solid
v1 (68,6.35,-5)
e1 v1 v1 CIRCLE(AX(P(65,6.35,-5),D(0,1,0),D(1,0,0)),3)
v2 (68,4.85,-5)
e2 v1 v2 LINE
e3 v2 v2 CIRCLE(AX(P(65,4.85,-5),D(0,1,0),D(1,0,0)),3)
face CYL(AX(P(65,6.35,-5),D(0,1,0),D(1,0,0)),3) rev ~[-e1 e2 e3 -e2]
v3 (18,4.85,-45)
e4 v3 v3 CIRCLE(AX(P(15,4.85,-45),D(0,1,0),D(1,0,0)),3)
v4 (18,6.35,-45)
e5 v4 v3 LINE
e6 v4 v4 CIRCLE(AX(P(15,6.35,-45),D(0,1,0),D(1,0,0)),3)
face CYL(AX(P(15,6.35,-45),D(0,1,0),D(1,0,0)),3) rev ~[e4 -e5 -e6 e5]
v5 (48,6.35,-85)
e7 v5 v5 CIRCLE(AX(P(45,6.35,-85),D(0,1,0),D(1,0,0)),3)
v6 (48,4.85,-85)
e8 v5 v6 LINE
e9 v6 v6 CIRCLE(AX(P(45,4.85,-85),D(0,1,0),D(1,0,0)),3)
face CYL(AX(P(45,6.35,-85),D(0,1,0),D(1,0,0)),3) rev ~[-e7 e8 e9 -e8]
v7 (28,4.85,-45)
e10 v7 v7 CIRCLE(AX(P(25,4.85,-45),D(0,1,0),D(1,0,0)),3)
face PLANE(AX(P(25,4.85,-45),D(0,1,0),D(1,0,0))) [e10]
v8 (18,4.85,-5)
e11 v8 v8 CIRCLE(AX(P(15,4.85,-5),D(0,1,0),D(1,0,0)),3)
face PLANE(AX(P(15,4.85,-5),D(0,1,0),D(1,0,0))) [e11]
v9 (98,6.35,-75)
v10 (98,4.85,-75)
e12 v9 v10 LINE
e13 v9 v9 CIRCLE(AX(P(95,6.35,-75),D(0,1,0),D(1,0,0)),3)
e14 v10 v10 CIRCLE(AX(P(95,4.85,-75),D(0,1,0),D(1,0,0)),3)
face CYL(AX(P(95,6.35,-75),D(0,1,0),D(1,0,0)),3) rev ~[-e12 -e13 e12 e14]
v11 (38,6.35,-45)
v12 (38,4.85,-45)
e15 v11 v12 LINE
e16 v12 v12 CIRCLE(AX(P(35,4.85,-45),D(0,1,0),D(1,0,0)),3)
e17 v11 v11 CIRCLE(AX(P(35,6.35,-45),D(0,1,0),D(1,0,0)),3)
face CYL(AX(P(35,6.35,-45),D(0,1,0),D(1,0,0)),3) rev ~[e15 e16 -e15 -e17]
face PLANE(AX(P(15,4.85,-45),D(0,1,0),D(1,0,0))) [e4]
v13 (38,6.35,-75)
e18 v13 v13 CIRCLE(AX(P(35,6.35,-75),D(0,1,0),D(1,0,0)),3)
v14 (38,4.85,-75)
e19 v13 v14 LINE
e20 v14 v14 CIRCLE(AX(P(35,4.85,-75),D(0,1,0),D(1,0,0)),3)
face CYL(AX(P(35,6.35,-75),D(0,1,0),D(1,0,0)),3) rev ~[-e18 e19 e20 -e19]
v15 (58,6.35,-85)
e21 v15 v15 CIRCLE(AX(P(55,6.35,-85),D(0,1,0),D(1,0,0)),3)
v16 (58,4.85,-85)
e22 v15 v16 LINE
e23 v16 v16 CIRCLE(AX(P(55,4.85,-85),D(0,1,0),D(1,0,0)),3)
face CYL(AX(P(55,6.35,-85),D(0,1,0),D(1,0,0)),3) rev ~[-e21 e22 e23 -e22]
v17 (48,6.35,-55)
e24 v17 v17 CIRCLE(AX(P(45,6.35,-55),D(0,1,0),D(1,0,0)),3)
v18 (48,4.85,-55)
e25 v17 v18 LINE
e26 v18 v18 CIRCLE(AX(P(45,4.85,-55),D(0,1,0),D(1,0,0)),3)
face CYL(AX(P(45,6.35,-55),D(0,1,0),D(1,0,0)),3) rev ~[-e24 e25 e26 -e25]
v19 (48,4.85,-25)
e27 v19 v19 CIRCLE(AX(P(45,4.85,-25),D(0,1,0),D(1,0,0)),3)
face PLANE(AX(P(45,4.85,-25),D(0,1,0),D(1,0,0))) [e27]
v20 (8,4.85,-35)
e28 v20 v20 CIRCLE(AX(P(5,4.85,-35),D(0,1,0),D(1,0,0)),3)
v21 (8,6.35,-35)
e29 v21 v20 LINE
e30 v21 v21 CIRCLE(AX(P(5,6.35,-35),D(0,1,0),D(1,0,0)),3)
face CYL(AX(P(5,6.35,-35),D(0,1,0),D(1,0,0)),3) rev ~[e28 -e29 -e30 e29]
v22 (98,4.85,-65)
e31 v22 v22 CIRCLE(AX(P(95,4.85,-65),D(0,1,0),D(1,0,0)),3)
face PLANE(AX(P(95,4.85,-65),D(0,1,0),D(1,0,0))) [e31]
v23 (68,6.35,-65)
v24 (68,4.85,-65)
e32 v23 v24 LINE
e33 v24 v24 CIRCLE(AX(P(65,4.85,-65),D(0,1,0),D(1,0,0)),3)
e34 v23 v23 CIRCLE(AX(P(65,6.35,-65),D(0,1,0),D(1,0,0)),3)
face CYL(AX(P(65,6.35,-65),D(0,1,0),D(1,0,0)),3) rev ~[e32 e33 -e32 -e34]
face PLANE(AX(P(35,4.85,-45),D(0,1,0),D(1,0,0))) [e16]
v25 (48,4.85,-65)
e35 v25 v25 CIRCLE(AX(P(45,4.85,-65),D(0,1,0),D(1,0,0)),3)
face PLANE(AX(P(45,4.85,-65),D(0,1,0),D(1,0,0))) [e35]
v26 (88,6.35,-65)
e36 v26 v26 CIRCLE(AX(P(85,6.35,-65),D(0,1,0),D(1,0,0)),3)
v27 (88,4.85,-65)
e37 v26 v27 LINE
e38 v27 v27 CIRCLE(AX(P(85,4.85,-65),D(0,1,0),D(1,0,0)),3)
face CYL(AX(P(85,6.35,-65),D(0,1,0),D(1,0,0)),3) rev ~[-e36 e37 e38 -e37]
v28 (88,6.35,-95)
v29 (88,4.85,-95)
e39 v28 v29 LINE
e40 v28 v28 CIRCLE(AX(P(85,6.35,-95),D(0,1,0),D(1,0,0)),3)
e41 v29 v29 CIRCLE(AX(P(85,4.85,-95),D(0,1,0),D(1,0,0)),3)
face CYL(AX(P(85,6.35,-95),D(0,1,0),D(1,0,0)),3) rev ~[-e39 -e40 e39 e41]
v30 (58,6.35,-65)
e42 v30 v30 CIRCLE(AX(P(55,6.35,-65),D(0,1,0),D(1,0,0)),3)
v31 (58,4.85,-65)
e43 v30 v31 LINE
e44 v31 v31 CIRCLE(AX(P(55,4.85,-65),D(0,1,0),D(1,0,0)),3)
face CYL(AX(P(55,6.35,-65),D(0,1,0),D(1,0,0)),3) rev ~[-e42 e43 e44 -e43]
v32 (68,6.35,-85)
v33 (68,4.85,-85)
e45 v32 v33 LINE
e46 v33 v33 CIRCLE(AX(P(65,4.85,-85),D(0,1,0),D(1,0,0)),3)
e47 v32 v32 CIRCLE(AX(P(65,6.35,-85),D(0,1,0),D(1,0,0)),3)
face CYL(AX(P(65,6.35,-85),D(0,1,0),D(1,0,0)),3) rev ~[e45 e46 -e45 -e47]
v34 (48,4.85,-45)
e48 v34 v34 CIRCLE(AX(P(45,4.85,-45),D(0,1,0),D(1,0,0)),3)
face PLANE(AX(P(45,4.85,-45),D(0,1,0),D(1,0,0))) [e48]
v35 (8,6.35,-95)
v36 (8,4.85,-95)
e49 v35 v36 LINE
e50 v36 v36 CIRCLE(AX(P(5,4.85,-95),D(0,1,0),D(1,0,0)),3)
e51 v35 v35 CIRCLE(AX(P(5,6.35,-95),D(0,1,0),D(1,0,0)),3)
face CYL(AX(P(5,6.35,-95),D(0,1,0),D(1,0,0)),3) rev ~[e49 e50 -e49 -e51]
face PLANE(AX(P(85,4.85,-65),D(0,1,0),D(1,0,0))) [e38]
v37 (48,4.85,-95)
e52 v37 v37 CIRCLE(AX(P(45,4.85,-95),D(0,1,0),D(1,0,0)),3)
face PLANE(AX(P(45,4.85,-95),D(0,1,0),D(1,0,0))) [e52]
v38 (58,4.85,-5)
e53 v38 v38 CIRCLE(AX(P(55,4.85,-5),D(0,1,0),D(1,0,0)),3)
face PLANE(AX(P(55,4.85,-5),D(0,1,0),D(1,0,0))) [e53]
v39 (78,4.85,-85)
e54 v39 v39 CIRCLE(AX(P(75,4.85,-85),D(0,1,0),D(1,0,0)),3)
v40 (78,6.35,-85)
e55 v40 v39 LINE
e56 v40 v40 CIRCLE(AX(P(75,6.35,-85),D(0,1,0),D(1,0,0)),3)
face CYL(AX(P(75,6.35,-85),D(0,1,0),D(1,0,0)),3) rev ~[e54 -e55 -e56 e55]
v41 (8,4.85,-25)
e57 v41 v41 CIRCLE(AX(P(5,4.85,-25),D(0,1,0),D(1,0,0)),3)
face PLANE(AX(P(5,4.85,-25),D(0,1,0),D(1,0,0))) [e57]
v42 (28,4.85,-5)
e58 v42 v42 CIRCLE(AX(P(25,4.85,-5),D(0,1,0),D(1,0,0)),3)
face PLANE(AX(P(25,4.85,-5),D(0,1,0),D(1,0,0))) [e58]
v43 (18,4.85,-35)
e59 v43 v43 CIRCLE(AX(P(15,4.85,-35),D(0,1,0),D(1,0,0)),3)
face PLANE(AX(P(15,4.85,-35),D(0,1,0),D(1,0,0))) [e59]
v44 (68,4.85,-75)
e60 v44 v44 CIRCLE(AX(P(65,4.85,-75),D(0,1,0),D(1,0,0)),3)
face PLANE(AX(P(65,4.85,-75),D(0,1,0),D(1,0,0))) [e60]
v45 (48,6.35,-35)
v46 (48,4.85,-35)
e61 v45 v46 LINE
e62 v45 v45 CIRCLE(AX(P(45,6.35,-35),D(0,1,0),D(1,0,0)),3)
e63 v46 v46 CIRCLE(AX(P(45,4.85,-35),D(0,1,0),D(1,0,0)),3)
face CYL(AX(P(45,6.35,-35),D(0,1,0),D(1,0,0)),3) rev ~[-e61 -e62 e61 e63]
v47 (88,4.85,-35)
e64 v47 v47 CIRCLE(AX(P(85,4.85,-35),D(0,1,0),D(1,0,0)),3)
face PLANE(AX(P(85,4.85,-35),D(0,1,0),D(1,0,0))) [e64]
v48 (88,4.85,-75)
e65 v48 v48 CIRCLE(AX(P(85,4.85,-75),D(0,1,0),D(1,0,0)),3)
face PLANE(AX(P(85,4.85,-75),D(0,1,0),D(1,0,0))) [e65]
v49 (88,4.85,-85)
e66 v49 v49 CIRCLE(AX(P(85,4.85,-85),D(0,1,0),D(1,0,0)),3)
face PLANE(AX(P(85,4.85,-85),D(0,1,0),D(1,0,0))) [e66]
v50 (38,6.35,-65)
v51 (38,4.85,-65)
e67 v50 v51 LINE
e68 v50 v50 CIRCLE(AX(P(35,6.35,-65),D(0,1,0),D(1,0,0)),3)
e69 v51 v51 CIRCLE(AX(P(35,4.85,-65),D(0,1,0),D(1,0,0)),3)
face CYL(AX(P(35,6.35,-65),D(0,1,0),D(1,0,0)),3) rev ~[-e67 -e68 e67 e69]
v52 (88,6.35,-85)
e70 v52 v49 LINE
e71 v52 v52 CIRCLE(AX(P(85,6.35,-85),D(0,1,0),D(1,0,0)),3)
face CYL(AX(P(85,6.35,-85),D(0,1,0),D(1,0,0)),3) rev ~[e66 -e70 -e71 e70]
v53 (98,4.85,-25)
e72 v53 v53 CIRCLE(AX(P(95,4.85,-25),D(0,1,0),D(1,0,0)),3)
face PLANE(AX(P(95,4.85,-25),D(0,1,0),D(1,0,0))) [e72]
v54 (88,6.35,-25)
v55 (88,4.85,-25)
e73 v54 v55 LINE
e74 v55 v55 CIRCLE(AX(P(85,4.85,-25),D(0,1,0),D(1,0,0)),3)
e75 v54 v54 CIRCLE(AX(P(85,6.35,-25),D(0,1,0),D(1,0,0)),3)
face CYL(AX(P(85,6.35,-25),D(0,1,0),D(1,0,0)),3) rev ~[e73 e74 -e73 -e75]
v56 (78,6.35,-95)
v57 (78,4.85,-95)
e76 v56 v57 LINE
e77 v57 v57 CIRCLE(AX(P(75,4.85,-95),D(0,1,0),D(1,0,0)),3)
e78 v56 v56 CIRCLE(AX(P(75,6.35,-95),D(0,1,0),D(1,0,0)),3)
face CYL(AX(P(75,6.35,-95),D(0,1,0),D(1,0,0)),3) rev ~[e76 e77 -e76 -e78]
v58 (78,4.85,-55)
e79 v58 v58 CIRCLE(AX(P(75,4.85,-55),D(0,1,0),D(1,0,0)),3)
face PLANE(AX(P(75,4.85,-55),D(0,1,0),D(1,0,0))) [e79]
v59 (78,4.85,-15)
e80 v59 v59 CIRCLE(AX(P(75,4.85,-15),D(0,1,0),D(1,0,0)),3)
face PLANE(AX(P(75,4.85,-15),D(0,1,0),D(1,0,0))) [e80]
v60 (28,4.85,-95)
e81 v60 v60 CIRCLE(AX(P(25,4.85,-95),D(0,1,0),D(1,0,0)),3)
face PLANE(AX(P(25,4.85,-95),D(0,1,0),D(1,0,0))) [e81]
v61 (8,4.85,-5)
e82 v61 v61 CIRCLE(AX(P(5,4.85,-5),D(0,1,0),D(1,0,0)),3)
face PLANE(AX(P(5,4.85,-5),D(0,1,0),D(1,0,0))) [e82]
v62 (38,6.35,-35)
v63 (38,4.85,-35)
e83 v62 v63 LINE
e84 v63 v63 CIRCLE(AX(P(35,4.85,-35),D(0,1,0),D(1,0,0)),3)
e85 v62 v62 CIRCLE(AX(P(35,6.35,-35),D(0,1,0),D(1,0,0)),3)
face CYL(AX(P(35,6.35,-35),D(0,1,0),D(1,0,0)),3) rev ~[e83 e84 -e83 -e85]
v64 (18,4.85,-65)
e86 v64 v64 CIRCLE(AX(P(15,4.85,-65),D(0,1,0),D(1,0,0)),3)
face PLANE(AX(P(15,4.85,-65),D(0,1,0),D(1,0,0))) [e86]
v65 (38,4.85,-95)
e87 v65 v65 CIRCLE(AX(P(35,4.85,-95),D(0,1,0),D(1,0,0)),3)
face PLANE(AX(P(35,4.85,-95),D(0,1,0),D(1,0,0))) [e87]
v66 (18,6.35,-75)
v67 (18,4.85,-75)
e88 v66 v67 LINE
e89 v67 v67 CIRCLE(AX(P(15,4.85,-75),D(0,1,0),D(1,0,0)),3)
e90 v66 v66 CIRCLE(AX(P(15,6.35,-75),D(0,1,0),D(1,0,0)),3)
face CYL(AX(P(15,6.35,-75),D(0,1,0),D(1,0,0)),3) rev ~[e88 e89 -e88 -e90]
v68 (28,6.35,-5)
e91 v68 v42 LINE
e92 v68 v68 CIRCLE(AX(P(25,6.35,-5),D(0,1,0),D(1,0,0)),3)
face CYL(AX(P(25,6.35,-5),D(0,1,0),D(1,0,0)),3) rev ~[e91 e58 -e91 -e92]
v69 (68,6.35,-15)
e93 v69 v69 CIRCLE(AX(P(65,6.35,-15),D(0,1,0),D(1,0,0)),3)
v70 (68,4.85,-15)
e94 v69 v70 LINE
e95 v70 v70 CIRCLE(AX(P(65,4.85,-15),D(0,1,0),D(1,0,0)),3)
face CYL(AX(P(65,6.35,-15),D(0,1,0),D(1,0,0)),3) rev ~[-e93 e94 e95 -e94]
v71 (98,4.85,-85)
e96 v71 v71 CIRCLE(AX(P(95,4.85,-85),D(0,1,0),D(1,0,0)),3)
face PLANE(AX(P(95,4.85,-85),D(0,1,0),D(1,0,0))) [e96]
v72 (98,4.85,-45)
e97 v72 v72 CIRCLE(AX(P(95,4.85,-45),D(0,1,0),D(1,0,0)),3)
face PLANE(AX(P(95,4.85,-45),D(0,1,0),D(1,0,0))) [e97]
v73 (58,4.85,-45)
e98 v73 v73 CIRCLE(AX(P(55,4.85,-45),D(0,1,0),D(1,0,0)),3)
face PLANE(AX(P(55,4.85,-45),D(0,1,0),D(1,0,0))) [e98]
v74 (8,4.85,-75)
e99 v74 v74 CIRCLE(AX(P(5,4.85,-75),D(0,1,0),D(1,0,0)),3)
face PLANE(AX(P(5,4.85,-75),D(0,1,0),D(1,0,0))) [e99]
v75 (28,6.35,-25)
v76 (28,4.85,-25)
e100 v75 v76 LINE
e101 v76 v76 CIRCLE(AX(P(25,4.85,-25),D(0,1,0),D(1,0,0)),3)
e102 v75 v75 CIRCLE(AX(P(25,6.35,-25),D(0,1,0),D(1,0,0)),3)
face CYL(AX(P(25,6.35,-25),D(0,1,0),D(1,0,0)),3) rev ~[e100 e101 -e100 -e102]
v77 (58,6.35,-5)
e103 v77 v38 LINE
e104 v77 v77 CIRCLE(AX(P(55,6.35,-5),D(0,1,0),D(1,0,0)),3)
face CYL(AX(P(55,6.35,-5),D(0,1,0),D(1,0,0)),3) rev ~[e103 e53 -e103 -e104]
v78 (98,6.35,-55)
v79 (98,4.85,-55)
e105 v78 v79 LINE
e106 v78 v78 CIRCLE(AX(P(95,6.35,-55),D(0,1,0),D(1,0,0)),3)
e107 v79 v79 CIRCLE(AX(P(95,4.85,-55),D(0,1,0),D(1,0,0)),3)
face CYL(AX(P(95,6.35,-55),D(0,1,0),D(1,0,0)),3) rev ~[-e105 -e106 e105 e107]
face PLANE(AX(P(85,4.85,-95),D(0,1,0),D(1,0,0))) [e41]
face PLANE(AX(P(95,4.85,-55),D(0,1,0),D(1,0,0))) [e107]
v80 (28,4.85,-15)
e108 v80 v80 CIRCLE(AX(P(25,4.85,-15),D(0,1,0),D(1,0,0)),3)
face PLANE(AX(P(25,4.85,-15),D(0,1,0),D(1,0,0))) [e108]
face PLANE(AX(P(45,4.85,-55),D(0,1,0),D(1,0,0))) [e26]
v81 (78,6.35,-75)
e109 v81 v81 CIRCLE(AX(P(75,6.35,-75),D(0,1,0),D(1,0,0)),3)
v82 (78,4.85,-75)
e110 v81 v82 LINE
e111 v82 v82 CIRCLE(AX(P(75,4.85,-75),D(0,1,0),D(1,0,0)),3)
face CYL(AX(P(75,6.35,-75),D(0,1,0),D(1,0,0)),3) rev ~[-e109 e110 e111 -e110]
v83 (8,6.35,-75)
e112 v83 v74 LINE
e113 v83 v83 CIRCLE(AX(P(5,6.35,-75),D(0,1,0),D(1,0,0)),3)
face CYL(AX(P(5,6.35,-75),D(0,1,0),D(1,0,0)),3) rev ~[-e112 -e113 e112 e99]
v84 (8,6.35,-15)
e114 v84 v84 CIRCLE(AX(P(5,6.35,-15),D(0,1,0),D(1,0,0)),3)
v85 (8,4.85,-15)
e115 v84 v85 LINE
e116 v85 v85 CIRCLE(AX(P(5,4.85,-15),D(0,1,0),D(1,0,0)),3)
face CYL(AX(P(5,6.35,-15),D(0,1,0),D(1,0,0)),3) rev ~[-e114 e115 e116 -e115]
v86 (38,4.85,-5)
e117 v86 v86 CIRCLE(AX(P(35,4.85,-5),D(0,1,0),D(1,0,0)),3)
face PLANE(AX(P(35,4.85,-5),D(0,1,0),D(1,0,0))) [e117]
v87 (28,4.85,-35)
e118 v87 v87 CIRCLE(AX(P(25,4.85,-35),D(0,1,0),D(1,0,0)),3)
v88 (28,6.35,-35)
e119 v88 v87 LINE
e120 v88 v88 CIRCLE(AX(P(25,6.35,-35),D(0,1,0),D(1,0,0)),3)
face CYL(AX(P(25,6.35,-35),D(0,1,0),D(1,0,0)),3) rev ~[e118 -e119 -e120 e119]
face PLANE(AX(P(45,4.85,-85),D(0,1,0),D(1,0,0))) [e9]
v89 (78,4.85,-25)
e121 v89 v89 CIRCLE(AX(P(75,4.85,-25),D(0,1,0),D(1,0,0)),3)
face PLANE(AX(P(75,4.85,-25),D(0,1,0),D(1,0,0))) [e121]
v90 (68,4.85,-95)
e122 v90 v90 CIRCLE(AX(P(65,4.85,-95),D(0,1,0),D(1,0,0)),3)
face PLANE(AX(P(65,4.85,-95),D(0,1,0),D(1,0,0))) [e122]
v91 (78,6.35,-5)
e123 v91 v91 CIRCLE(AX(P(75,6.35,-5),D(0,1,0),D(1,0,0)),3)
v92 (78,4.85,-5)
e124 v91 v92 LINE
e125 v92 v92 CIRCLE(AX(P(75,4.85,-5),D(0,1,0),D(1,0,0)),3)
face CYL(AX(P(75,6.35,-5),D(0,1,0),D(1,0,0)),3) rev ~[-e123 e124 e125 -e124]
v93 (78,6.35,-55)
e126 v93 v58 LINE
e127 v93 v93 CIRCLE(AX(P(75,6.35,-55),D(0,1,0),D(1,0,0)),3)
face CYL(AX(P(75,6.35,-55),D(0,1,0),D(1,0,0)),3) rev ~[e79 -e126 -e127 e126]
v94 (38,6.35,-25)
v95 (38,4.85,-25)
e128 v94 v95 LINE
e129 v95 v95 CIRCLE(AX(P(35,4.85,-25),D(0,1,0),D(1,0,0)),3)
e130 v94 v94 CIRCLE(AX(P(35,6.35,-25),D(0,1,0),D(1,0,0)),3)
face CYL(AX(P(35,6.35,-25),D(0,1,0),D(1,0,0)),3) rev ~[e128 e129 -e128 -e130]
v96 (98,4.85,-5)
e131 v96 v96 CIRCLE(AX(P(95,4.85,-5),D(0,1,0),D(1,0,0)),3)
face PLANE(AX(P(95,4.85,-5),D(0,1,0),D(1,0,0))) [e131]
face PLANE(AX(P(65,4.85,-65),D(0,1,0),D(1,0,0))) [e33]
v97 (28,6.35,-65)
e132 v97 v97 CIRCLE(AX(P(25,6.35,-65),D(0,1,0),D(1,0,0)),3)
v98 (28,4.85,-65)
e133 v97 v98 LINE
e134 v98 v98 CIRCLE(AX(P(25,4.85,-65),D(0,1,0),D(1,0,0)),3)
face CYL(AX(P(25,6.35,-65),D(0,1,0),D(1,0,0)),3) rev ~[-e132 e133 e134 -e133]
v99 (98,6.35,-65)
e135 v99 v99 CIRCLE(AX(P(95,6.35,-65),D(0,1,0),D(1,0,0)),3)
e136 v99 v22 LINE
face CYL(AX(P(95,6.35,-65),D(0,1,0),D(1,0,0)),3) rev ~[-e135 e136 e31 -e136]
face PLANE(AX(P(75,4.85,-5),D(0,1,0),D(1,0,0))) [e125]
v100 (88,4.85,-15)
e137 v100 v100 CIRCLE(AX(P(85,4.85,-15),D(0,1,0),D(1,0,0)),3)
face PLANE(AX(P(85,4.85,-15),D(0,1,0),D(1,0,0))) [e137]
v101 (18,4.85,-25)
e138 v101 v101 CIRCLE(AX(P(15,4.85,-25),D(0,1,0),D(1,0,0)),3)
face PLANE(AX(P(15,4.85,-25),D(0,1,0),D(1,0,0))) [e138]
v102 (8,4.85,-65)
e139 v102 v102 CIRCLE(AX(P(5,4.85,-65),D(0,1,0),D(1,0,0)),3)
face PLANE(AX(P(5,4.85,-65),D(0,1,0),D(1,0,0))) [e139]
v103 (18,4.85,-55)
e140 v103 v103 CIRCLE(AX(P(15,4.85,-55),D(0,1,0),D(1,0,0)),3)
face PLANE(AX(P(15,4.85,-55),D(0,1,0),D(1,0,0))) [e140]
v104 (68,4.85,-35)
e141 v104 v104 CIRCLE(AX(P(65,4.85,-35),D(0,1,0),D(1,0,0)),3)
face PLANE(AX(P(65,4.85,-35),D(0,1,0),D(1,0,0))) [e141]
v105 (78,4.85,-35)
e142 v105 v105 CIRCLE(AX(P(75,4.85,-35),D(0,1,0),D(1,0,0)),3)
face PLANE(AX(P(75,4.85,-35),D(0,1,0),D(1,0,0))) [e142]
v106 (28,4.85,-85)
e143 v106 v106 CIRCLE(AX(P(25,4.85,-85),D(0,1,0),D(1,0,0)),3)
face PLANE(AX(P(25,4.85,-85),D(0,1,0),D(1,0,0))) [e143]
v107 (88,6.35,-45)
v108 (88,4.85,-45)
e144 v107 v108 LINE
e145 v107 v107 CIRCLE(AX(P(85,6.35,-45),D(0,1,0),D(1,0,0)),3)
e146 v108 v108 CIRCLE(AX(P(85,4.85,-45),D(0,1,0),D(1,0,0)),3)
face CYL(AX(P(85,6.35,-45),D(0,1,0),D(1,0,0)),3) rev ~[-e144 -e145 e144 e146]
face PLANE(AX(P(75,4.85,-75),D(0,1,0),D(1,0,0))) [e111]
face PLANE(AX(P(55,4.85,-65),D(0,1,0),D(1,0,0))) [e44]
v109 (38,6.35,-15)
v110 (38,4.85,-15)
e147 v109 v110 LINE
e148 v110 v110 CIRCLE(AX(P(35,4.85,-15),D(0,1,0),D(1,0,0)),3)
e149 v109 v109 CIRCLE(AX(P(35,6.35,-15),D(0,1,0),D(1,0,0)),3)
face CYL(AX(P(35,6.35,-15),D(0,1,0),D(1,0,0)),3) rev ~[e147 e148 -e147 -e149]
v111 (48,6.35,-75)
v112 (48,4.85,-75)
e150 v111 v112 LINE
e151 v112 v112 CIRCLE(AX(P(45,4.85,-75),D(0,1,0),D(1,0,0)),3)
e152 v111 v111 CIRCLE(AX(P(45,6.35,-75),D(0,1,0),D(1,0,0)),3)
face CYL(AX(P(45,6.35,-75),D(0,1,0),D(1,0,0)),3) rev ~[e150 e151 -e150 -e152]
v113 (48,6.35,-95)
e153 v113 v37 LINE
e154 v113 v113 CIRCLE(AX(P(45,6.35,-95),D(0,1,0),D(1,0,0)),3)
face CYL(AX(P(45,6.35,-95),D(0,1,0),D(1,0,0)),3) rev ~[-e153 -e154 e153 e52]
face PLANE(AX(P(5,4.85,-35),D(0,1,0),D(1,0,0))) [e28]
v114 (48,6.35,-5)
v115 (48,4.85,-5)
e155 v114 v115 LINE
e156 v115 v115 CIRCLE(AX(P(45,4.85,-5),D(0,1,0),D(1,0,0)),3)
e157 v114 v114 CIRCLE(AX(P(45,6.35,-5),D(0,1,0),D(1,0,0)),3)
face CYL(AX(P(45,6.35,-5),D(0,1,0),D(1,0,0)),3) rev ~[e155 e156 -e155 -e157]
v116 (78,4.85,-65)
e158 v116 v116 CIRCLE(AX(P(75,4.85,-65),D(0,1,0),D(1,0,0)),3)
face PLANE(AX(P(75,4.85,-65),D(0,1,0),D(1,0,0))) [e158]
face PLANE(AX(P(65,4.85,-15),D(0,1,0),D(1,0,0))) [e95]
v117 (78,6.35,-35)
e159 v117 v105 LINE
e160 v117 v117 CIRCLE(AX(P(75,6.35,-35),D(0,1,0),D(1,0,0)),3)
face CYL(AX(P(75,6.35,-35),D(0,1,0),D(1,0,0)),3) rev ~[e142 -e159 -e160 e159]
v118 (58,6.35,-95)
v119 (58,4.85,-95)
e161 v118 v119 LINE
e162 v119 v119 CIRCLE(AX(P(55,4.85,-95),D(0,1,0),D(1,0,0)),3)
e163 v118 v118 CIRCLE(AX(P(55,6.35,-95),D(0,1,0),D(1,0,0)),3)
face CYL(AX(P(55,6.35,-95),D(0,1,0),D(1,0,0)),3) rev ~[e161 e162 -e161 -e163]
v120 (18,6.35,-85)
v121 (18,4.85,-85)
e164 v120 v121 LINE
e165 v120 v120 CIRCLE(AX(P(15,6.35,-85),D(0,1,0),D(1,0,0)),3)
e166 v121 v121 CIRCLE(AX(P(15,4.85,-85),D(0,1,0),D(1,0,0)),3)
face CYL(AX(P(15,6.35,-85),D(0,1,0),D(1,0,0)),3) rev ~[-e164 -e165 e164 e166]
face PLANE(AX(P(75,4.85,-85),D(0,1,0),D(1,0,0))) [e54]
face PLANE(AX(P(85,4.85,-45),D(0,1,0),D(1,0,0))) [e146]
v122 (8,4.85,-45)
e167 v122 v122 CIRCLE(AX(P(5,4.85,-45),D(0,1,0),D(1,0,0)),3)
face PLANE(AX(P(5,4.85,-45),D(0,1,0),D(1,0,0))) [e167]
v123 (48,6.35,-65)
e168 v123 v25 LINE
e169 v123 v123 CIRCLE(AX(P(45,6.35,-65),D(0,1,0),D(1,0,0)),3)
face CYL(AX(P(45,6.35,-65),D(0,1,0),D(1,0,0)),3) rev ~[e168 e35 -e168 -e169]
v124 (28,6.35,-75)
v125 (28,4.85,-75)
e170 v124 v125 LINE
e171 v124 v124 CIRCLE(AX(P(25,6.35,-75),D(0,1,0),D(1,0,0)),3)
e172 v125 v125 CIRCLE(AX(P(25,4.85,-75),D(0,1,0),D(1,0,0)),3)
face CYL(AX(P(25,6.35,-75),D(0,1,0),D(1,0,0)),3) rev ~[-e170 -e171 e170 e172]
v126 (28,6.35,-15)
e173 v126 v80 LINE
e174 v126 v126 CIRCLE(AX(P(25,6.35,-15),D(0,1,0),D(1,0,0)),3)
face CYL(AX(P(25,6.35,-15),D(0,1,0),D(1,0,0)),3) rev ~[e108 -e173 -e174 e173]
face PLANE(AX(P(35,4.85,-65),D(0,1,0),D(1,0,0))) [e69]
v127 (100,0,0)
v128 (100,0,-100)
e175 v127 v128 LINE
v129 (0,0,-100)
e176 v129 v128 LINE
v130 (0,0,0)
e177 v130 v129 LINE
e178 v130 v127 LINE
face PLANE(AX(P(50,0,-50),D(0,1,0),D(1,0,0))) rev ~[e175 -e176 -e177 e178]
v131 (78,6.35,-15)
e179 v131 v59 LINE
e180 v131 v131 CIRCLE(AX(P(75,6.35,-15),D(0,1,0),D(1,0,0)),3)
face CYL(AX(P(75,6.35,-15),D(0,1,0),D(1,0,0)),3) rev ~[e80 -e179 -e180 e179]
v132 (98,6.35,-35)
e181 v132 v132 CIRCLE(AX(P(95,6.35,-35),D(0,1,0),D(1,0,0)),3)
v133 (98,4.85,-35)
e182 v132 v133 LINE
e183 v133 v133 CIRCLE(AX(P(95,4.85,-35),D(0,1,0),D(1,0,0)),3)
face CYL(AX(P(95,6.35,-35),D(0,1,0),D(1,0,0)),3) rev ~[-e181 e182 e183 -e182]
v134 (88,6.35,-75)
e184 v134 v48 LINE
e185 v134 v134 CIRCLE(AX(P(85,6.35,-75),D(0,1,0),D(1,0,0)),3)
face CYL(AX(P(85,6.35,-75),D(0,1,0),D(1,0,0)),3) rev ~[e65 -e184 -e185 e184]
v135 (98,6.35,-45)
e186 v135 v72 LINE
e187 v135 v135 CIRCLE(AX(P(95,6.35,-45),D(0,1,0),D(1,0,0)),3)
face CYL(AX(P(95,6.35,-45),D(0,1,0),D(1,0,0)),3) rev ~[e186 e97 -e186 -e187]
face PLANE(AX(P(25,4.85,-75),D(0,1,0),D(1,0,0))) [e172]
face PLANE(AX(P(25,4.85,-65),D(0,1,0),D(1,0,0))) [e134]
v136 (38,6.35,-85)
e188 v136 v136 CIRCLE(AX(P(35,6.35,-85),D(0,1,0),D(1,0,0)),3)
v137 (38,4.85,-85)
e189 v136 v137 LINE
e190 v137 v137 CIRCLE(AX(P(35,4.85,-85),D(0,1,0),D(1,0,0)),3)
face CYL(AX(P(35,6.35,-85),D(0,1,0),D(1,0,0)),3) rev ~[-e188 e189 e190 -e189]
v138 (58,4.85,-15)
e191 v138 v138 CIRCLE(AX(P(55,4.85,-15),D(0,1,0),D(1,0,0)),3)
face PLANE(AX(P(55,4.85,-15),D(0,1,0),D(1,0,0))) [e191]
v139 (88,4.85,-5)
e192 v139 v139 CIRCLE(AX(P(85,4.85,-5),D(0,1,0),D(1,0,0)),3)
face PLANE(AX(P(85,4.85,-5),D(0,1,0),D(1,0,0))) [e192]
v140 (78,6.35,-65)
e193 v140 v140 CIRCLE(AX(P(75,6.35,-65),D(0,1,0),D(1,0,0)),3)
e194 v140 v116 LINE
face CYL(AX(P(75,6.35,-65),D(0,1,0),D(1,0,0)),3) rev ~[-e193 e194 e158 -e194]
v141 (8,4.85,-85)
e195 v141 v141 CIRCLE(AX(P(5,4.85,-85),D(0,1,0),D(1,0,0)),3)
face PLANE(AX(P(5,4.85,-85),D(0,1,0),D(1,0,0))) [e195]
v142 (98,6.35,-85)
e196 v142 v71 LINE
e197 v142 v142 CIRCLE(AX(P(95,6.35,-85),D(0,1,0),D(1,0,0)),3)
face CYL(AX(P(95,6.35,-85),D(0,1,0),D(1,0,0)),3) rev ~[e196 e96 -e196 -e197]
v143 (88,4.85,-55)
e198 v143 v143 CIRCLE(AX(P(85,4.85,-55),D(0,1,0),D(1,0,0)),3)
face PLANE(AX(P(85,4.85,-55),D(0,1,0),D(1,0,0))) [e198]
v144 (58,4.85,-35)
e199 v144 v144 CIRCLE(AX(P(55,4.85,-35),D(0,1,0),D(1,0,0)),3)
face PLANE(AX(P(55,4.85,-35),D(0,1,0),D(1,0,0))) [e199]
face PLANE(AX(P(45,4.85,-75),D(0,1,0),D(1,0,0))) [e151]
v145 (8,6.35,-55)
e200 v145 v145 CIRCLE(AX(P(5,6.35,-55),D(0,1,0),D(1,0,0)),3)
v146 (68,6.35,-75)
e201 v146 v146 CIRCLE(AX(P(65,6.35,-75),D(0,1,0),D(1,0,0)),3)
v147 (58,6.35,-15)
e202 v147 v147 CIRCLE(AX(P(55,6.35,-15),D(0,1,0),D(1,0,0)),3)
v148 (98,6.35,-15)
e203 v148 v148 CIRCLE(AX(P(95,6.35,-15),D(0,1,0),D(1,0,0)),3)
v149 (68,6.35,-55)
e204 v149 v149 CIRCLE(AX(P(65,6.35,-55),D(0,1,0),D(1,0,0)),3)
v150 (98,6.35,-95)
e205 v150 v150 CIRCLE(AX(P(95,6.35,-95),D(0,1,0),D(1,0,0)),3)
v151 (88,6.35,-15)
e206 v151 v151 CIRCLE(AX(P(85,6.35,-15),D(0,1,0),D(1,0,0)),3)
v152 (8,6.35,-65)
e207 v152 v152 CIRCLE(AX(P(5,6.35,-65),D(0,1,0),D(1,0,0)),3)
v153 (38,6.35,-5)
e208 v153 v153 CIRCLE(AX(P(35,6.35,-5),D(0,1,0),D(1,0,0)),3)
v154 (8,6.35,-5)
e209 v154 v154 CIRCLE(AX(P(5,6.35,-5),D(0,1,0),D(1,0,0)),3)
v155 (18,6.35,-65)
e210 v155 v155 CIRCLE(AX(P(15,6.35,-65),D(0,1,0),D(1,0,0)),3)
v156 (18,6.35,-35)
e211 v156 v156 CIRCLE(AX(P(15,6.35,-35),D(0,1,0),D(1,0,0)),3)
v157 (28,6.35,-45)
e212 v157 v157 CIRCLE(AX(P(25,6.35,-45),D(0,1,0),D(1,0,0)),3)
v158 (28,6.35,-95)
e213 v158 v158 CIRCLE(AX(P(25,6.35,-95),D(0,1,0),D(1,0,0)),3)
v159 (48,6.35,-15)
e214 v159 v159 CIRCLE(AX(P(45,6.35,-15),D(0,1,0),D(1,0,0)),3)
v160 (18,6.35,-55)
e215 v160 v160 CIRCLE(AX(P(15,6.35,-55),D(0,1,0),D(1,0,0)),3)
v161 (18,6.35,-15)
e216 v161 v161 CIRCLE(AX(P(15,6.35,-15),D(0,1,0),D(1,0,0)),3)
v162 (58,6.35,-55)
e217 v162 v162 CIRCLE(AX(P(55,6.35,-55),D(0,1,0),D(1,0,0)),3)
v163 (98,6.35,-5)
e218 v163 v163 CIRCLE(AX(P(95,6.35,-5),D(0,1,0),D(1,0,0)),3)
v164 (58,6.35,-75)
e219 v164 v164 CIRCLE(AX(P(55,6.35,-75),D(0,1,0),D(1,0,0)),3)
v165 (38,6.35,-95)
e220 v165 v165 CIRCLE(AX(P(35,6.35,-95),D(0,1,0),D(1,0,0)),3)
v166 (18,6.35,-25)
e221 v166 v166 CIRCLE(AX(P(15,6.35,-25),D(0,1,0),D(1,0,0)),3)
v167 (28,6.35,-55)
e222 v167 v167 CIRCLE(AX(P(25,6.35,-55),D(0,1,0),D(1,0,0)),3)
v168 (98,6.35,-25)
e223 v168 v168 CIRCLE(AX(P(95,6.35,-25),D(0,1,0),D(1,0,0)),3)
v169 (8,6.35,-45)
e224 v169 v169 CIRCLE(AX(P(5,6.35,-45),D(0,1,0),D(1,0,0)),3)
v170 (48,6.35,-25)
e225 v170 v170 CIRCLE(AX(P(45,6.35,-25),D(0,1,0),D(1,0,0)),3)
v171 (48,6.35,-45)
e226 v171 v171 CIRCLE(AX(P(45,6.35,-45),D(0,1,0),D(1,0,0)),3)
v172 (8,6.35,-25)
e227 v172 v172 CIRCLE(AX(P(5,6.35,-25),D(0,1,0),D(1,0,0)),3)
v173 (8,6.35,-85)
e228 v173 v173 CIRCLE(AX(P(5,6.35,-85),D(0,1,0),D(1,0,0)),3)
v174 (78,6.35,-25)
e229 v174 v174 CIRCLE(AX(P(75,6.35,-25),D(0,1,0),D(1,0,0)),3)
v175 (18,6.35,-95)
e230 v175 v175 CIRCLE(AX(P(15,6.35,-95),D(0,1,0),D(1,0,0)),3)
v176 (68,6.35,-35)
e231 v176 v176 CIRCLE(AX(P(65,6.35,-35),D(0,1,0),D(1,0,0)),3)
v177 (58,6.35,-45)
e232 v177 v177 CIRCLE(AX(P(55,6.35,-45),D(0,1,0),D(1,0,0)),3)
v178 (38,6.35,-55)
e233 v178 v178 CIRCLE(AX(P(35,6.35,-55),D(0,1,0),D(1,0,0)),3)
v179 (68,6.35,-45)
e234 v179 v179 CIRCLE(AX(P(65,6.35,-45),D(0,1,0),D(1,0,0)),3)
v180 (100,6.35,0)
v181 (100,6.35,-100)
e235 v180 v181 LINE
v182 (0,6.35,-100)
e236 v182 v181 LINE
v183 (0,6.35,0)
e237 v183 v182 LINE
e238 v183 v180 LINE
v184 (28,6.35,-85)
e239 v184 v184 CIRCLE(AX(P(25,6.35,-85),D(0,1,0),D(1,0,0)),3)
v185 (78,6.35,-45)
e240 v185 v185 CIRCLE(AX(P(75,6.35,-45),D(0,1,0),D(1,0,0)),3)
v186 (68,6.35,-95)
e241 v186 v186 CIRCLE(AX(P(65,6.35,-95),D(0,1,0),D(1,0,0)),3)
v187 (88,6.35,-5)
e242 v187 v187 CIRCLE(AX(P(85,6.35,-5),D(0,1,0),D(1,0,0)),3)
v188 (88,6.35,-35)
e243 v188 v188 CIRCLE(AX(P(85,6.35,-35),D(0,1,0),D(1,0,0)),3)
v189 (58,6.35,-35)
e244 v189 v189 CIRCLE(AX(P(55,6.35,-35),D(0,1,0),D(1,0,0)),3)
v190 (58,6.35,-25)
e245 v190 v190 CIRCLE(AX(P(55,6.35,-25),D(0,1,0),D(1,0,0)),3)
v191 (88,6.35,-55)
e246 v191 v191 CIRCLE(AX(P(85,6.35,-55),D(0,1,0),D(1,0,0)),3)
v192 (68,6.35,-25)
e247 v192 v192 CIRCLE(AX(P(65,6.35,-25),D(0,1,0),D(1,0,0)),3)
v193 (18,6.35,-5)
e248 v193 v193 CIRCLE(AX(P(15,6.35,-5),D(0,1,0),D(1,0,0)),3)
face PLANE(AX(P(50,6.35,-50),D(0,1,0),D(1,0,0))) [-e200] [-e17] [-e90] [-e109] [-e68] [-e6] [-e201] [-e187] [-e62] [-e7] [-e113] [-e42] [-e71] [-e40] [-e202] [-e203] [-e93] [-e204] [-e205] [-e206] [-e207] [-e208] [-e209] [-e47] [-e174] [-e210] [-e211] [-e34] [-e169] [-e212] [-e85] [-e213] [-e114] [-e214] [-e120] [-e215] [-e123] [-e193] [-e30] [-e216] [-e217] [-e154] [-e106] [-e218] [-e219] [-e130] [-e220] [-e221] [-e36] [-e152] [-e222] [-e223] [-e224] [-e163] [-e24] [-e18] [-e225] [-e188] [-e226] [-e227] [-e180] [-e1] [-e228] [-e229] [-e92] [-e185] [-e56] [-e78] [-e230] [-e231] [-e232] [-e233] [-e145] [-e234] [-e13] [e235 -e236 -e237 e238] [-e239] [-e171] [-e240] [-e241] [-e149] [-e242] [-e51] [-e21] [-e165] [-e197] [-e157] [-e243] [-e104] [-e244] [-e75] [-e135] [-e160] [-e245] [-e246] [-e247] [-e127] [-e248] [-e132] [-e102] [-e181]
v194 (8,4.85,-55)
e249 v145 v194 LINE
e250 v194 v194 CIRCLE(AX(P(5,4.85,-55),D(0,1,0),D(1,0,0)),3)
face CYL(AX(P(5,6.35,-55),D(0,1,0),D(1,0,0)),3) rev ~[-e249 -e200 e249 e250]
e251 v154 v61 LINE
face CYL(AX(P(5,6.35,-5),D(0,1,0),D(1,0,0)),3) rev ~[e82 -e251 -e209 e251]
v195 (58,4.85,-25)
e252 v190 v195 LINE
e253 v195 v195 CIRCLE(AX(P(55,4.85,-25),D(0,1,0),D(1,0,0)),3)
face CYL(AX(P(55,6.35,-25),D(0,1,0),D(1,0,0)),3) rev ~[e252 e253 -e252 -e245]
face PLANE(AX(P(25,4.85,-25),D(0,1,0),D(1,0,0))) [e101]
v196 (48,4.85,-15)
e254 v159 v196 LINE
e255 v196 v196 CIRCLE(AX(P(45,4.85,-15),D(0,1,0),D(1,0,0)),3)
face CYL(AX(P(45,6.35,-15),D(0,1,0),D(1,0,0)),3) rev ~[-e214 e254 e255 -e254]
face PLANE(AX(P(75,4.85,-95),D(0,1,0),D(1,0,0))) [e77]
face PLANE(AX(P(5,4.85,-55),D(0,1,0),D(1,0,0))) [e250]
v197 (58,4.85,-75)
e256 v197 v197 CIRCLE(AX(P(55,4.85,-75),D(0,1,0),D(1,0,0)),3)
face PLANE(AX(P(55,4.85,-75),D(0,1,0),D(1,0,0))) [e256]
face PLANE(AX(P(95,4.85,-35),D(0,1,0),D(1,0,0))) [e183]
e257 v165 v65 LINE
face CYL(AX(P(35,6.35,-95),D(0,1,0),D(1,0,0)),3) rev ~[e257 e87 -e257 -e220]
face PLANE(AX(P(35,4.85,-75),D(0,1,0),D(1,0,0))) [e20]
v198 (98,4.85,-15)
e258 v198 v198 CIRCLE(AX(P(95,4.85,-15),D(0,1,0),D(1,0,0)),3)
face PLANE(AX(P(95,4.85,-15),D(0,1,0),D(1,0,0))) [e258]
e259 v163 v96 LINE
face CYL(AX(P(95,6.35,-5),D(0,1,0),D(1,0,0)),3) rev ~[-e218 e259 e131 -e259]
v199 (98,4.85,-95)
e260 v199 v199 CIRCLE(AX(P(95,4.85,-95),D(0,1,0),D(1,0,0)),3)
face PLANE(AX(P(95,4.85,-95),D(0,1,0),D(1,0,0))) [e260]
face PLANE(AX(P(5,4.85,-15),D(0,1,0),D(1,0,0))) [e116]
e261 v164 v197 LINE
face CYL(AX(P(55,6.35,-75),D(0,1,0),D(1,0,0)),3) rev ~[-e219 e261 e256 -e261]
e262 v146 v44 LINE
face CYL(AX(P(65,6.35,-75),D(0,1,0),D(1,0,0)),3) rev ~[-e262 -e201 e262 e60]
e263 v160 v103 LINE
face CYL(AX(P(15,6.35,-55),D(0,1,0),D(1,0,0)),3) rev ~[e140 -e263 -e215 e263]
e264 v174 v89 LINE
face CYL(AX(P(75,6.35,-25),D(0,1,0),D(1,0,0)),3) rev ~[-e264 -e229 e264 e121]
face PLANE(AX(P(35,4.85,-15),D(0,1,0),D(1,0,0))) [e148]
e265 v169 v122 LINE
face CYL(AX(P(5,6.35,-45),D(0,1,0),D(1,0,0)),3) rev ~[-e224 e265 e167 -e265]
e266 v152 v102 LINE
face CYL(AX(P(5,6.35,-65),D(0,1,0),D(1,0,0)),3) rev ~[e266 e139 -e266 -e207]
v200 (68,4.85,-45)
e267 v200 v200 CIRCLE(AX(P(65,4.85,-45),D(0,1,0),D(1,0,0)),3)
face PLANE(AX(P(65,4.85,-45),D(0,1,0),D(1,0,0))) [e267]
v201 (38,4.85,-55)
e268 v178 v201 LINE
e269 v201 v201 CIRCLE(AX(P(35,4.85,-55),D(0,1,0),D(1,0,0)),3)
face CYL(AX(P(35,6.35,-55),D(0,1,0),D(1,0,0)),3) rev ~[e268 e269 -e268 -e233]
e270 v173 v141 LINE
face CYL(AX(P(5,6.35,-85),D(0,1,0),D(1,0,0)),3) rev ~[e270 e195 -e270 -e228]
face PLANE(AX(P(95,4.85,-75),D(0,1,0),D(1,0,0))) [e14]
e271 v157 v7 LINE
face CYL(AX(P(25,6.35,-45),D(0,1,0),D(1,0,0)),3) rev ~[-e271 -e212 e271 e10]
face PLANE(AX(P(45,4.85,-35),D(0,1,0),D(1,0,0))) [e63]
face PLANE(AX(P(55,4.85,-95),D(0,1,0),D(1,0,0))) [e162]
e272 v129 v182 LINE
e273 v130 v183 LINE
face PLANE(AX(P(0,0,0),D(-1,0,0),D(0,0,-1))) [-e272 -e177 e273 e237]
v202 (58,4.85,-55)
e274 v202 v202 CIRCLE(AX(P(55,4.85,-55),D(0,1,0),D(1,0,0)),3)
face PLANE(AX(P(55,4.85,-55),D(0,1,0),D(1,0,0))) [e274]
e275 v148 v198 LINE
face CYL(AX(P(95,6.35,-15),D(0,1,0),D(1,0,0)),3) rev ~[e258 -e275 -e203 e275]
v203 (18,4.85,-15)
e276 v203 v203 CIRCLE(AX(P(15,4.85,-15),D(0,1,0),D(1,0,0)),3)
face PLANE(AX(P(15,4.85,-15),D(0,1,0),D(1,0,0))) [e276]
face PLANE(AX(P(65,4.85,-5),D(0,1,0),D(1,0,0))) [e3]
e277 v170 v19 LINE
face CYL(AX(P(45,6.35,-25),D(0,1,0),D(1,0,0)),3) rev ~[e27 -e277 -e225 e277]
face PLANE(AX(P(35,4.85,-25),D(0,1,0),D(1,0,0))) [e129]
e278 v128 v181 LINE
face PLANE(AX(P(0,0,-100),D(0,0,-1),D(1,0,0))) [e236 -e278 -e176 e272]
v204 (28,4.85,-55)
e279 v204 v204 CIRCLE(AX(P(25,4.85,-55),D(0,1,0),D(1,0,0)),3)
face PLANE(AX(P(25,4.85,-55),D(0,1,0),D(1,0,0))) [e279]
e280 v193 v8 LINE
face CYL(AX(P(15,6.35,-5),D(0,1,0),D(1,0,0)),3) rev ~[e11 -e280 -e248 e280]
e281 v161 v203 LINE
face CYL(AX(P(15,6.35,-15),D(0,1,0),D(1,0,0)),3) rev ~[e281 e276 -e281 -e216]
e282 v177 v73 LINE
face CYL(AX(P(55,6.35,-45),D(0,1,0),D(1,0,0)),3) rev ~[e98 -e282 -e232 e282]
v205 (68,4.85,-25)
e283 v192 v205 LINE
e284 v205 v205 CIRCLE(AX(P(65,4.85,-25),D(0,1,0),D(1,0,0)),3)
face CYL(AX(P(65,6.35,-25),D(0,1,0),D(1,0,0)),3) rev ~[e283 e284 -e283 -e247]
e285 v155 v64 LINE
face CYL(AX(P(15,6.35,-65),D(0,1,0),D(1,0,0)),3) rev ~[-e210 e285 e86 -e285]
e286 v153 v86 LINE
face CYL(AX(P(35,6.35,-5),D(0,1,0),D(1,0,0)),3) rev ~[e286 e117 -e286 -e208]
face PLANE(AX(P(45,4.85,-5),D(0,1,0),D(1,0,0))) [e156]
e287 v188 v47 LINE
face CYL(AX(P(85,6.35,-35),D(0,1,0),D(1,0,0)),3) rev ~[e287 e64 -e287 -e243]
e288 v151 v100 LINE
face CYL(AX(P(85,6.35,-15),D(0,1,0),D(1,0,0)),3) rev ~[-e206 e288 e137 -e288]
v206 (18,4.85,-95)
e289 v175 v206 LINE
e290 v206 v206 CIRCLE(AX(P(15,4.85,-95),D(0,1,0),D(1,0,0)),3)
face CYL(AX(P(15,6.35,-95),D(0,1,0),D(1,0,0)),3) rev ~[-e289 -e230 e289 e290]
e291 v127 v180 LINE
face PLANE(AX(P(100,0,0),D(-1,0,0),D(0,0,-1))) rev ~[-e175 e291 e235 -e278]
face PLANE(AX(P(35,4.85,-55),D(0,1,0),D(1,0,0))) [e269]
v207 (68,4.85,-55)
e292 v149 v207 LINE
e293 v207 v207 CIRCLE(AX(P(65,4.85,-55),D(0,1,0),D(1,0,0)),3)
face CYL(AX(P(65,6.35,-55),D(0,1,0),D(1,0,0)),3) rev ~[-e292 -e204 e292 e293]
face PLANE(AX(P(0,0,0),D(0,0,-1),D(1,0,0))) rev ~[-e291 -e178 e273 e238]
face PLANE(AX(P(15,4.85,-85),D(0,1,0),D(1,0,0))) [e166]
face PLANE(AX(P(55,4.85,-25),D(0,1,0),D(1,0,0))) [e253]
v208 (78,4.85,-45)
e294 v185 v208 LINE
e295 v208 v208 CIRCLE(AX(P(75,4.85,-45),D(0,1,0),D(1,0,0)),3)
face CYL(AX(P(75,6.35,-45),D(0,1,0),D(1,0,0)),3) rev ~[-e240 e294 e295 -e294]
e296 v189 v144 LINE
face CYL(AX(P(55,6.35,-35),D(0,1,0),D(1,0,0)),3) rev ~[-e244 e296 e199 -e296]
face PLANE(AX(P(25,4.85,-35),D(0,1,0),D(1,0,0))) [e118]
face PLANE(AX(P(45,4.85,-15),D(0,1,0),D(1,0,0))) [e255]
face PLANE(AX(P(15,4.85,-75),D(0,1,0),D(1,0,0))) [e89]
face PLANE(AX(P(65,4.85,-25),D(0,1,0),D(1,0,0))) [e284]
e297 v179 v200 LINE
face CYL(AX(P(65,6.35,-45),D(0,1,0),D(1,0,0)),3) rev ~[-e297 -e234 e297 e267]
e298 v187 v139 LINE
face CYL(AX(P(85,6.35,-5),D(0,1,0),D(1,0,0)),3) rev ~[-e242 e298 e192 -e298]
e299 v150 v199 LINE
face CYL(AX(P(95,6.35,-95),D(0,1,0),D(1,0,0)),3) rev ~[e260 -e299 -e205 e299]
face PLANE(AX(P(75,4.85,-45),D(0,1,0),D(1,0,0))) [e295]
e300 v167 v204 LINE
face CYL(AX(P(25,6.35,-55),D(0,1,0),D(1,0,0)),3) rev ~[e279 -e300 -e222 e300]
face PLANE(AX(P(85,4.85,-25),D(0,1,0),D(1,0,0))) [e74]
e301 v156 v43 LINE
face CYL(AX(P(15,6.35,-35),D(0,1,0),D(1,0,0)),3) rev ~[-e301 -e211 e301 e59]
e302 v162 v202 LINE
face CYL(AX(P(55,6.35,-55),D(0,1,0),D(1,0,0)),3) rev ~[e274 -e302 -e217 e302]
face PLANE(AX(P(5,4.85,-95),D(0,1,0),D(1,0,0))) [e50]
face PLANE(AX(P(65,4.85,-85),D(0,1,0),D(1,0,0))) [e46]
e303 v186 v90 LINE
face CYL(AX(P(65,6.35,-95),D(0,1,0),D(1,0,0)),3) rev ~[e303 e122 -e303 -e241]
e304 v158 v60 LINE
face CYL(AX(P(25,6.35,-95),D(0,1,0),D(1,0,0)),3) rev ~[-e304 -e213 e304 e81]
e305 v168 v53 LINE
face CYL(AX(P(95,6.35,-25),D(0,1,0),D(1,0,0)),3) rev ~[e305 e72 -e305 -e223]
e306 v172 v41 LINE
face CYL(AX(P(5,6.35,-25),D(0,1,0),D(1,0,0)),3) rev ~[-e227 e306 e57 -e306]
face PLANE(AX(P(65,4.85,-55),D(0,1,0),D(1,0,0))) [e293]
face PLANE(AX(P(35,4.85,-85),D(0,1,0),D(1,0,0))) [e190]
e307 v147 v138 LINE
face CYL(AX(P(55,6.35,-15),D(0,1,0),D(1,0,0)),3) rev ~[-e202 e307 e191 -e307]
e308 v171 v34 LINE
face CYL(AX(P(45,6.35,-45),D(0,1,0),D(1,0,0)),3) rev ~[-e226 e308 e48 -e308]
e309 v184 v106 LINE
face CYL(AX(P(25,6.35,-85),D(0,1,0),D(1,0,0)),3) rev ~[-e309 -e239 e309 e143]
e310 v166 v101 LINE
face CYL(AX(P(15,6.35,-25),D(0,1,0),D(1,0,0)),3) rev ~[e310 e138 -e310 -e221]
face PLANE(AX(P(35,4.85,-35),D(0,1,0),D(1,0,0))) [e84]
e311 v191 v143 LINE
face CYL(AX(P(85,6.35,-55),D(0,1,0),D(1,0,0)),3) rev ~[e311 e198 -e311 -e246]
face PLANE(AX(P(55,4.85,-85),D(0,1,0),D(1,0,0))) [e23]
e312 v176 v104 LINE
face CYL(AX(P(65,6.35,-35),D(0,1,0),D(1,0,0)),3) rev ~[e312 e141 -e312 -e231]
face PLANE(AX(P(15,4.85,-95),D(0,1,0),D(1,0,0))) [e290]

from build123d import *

# Parameters (mm, degrees)
SKETCH1_W           = 100
SKETCH1_H           = 100
BOSS_EXTRUDE1_DEPTH = 6.35
SKETCH2_R           = 3
CUT_EXTRUDE1_DEPTH  = 1.5


with BuildPart() as part:
    # Sketch1 → Boss-Extrude1 (new body)
    with BuildSketch(Plane(origin=(0, 0, 0), x_dir=(1, 0, 0), z_dir=(0, 1, 0))):
        with Locations((50, 50)):
            Rectangle(SKETCH1_W, SKETCH1_H)
    extrude(amount=BOSS_EXTRUDE1_DEPTH)

    # Sketch2 → Cut-Extrude1 (cut)
    with BuildSketch(Plane(origin=(0, 6.35, 0), x_dir=(1, 0, 0), z_dir=(0, 1, 0))):
        with Locations((5, 95)):
            Circle(SKETCH2_R)
        with Locations((15, 95)):
            Circle(SKETCH2_R)
        with Locations((25, 95)):
            Circle(SKETCH2_R)
        with Locations((35, 95)):
            Circle(SKETCH2_R)
        with Locations((45, 95)):
            Circle(SKETCH2_R)
        with Locations((55, 95)):
            Circle(SKETCH2_R)
        with Locations((65, 95)):
            Circle(SKETCH2_R)
        with Locations((75, 95)):
            Circle(SKETCH2_R)
        with Locations((85, 95)):
            Circle(SKETCH2_R)
        with Locations((95, 95)):
            Circle(SKETCH2_R)
        with Locations((15, 85)):
            Circle(SKETCH2_R)
        with Locations((25, 85)):
            Circle(SKETCH2_R)
        with Locations((35, 85)):
            Circle(SKETCH2_R)
        with Locations((45, 85)):
            Circle(SKETCH2_R)
        with Locations((55, 85)):
            Circle(SKETCH2_R)
        with Locations((65, 85)):
            Circle(SKETCH2_R)
        with Locations((75, 85)):
            Circle(SKETCH2_R)
        with Locations((85, 85)):
            Circle(SKETCH2_R)
        with Locations((95, 85)):
            Circle(SKETCH2_R)
        with Locations((15, 75)):
            Circle(SKETCH2_R)
        with Locations((25, 75)):
            Circle(SKETCH2_R)
        with Locations((35, 75)):
            Circle(SKETCH2_R)
        with Locations((45, 75)):
            Circle(SKETCH2_R)
        with Locations((55, 75)):
            Circle(SKETCH2_R)
        with Locations((65, 75)):
            Circle(SKETCH2_R)
        with Locations((75, 75)):
            Circle(SKETCH2_R)
        with Locations((85, 75)):
            Circle(SKETCH2_R)
        with Locations((95, 75)):
            Circle(SKETCH2_R)
        with Locations((15, 65)):
            Circle(SKETCH2_R)
        with Locations((25, 65)):
            Circle(SKETCH2_R)
        with Locations((35, 65)):
            Circle(SKETCH2_R)
        with Locations((45, 65)):
            Circle(SKETCH2_R)
        with Locations((55, 65)):
            Circle(SKETCH2_R)
        with Locations((65, 65)):
            Circle(SKETCH2_R)
        with Locations((75, 65)):
            Circle(SKETCH2_R)
        with Locations((85, 65)):
            Circle(SKETCH2_R)
        with Locations((95, 65)):
            Circle(SKETCH2_R)
        with Locations((15, 55)):
            Circle(SKETCH2_R)
        with Locations((25, 55)):
            Circle(SKETCH2_R)
        with Locations((35, 55)):
            Circle(SKETCH2_R)
        with Locations((45, 55)):
            Circle(SKETCH2_R)
        with Locations((55, 55)):
            Circle(SKETCH2_R)
        with Locations((65, 55)):
            Circle(SKETCH2_R)
        with Locations((75, 55)):
            Circle(SKETCH2_R)
        with Locations((85, 55)):
            Circle(SKETCH2_R)
        with Locations((95, 55)):
            Circle(SKETCH2_R)
        with Locations((15, 45)):
            Circle(SKETCH2_R)
        with Locations((25, 45)):
            Circle(SKETCH2_R)
        with Locations((35, 45)):
            Circle(SKETCH2_R)
        with Locations((45, 45)):
            Circle(SKETCH2_R)
        with Locations((55, 45)):
            Circle(SKETCH2_R)
        with Locations((65, 45)):
            Circle(SKETCH2_R)
        with Locations((75, 45)):
            Circle(SKETCH2_R)
        with Locations((85, 45)):
            Circle(SKETCH2_R)
        with Locations((95, 45)):
            Circle(SKETCH2_R)
        with Locations((15, 35)):
            Circle(SKETCH2_R)
        with Locations((25, 35)):
            Circle(SKETCH2_R)
        with Locations((35, 35)):
            Circle(SKETCH2_R)
        with Locations((45, 35)):
            Circle(SKETCH2_R)
        with Locations((55, 35)):
            Circle(SKETCH2_R)
        with Locations((65, 35)):
            Circle(SKETCH2_R)
        with Locations((75, 35)):
            Circle(SKETCH2_R)
        with Locations((85, 35)):
            Circle(SKETCH2_R)
        with Locations((95, 35)):
            Circle(SKETCH2_R)
        with Locations((15, 25)):
            Circle(SKETCH2_R)
        with Locations((25, 25)):
            Circle(SKETCH2_R)
        with Locations((35, 25)):
            Circle(SKETCH2_R)
        with Locations((45, 25)):
            Circle(SKETCH2_R)
        with Locations((55, 25)):
            Circle(SKETCH2_R)
        with Locations((65, 25)):
            Circle(SKETCH2_R)
        with Locations((75, 25)):
            Circle(SKETCH2_R)
        with Locations((85, 25)):
            Circle(SKETCH2_R)
        with Locations((95, 25)):
            Circle(SKETCH2_R)
        with Locations((15, 15)):
            Circle(SKETCH2_R)
        with Locations((25, 15)):
            Circle(SKETCH2_R)
        with Locations((35, 15)):
            Circle(SKETCH2_R)
        with Locations((45, 15)):
            Circle(SKETCH2_R)
        with Locations((55, 15)):
            Circle(SKETCH2_R)
        with Locations((65, 15)):
            Circle(SKETCH2_R)
        with Locations((75, 15)):
            Circle(SKETCH2_R)
        with Locations((85, 15)):
            Circle(SKETCH2_R)
        with Locations((95, 15)):
            Circle(SKETCH2_R)
        with Locations((15, 5)):
            Circle(SKETCH2_R)
        with Locations((25, 5)):
            Circle(SKETCH2_R)
        with Locations((35, 5)):
            Circle(SKETCH2_R)
        with Locations((45, 5)):
            Circle(SKETCH2_R)
        with Locations((55, 5)):
            Circle(SKETCH2_R)
        with Locations((65, 5)):
            Circle(SKETCH2_R)
        with Locations((75, 5)):
            Circle(SKETCH2_R)
        with Locations((85, 5)):
            Circle(SKETCH2_R)
        with Locations((95, 5)):
            Circle(SKETCH2_R)
        with Locations((5, 85)):
            Circle(SKETCH2_R)
        with Locations((5, 75)):
            Circle(SKETCH2_R)
        with Locations((5, 65)):
            Circle(SKETCH2_R)
        with Locations((5, 55)):
            Circle(SKETCH2_R)
        with Locations((5, 45)):
            Circle(SKETCH2_R)
        with Locations((5, 35)):
            Circle(SKETCH2_R)
        with Locations((5, 25)):
            Circle(SKETCH2_R)
        with Locations((5, 15)):
            Circle(SKETCH2_R)
        with Locations((5, 5)):
            Circle(SKETCH2_R)
    extrude(amount=-CUT_EXTRUDE1_DEPTH, mode=Mode.SUBTRACT)


solid = part.part
